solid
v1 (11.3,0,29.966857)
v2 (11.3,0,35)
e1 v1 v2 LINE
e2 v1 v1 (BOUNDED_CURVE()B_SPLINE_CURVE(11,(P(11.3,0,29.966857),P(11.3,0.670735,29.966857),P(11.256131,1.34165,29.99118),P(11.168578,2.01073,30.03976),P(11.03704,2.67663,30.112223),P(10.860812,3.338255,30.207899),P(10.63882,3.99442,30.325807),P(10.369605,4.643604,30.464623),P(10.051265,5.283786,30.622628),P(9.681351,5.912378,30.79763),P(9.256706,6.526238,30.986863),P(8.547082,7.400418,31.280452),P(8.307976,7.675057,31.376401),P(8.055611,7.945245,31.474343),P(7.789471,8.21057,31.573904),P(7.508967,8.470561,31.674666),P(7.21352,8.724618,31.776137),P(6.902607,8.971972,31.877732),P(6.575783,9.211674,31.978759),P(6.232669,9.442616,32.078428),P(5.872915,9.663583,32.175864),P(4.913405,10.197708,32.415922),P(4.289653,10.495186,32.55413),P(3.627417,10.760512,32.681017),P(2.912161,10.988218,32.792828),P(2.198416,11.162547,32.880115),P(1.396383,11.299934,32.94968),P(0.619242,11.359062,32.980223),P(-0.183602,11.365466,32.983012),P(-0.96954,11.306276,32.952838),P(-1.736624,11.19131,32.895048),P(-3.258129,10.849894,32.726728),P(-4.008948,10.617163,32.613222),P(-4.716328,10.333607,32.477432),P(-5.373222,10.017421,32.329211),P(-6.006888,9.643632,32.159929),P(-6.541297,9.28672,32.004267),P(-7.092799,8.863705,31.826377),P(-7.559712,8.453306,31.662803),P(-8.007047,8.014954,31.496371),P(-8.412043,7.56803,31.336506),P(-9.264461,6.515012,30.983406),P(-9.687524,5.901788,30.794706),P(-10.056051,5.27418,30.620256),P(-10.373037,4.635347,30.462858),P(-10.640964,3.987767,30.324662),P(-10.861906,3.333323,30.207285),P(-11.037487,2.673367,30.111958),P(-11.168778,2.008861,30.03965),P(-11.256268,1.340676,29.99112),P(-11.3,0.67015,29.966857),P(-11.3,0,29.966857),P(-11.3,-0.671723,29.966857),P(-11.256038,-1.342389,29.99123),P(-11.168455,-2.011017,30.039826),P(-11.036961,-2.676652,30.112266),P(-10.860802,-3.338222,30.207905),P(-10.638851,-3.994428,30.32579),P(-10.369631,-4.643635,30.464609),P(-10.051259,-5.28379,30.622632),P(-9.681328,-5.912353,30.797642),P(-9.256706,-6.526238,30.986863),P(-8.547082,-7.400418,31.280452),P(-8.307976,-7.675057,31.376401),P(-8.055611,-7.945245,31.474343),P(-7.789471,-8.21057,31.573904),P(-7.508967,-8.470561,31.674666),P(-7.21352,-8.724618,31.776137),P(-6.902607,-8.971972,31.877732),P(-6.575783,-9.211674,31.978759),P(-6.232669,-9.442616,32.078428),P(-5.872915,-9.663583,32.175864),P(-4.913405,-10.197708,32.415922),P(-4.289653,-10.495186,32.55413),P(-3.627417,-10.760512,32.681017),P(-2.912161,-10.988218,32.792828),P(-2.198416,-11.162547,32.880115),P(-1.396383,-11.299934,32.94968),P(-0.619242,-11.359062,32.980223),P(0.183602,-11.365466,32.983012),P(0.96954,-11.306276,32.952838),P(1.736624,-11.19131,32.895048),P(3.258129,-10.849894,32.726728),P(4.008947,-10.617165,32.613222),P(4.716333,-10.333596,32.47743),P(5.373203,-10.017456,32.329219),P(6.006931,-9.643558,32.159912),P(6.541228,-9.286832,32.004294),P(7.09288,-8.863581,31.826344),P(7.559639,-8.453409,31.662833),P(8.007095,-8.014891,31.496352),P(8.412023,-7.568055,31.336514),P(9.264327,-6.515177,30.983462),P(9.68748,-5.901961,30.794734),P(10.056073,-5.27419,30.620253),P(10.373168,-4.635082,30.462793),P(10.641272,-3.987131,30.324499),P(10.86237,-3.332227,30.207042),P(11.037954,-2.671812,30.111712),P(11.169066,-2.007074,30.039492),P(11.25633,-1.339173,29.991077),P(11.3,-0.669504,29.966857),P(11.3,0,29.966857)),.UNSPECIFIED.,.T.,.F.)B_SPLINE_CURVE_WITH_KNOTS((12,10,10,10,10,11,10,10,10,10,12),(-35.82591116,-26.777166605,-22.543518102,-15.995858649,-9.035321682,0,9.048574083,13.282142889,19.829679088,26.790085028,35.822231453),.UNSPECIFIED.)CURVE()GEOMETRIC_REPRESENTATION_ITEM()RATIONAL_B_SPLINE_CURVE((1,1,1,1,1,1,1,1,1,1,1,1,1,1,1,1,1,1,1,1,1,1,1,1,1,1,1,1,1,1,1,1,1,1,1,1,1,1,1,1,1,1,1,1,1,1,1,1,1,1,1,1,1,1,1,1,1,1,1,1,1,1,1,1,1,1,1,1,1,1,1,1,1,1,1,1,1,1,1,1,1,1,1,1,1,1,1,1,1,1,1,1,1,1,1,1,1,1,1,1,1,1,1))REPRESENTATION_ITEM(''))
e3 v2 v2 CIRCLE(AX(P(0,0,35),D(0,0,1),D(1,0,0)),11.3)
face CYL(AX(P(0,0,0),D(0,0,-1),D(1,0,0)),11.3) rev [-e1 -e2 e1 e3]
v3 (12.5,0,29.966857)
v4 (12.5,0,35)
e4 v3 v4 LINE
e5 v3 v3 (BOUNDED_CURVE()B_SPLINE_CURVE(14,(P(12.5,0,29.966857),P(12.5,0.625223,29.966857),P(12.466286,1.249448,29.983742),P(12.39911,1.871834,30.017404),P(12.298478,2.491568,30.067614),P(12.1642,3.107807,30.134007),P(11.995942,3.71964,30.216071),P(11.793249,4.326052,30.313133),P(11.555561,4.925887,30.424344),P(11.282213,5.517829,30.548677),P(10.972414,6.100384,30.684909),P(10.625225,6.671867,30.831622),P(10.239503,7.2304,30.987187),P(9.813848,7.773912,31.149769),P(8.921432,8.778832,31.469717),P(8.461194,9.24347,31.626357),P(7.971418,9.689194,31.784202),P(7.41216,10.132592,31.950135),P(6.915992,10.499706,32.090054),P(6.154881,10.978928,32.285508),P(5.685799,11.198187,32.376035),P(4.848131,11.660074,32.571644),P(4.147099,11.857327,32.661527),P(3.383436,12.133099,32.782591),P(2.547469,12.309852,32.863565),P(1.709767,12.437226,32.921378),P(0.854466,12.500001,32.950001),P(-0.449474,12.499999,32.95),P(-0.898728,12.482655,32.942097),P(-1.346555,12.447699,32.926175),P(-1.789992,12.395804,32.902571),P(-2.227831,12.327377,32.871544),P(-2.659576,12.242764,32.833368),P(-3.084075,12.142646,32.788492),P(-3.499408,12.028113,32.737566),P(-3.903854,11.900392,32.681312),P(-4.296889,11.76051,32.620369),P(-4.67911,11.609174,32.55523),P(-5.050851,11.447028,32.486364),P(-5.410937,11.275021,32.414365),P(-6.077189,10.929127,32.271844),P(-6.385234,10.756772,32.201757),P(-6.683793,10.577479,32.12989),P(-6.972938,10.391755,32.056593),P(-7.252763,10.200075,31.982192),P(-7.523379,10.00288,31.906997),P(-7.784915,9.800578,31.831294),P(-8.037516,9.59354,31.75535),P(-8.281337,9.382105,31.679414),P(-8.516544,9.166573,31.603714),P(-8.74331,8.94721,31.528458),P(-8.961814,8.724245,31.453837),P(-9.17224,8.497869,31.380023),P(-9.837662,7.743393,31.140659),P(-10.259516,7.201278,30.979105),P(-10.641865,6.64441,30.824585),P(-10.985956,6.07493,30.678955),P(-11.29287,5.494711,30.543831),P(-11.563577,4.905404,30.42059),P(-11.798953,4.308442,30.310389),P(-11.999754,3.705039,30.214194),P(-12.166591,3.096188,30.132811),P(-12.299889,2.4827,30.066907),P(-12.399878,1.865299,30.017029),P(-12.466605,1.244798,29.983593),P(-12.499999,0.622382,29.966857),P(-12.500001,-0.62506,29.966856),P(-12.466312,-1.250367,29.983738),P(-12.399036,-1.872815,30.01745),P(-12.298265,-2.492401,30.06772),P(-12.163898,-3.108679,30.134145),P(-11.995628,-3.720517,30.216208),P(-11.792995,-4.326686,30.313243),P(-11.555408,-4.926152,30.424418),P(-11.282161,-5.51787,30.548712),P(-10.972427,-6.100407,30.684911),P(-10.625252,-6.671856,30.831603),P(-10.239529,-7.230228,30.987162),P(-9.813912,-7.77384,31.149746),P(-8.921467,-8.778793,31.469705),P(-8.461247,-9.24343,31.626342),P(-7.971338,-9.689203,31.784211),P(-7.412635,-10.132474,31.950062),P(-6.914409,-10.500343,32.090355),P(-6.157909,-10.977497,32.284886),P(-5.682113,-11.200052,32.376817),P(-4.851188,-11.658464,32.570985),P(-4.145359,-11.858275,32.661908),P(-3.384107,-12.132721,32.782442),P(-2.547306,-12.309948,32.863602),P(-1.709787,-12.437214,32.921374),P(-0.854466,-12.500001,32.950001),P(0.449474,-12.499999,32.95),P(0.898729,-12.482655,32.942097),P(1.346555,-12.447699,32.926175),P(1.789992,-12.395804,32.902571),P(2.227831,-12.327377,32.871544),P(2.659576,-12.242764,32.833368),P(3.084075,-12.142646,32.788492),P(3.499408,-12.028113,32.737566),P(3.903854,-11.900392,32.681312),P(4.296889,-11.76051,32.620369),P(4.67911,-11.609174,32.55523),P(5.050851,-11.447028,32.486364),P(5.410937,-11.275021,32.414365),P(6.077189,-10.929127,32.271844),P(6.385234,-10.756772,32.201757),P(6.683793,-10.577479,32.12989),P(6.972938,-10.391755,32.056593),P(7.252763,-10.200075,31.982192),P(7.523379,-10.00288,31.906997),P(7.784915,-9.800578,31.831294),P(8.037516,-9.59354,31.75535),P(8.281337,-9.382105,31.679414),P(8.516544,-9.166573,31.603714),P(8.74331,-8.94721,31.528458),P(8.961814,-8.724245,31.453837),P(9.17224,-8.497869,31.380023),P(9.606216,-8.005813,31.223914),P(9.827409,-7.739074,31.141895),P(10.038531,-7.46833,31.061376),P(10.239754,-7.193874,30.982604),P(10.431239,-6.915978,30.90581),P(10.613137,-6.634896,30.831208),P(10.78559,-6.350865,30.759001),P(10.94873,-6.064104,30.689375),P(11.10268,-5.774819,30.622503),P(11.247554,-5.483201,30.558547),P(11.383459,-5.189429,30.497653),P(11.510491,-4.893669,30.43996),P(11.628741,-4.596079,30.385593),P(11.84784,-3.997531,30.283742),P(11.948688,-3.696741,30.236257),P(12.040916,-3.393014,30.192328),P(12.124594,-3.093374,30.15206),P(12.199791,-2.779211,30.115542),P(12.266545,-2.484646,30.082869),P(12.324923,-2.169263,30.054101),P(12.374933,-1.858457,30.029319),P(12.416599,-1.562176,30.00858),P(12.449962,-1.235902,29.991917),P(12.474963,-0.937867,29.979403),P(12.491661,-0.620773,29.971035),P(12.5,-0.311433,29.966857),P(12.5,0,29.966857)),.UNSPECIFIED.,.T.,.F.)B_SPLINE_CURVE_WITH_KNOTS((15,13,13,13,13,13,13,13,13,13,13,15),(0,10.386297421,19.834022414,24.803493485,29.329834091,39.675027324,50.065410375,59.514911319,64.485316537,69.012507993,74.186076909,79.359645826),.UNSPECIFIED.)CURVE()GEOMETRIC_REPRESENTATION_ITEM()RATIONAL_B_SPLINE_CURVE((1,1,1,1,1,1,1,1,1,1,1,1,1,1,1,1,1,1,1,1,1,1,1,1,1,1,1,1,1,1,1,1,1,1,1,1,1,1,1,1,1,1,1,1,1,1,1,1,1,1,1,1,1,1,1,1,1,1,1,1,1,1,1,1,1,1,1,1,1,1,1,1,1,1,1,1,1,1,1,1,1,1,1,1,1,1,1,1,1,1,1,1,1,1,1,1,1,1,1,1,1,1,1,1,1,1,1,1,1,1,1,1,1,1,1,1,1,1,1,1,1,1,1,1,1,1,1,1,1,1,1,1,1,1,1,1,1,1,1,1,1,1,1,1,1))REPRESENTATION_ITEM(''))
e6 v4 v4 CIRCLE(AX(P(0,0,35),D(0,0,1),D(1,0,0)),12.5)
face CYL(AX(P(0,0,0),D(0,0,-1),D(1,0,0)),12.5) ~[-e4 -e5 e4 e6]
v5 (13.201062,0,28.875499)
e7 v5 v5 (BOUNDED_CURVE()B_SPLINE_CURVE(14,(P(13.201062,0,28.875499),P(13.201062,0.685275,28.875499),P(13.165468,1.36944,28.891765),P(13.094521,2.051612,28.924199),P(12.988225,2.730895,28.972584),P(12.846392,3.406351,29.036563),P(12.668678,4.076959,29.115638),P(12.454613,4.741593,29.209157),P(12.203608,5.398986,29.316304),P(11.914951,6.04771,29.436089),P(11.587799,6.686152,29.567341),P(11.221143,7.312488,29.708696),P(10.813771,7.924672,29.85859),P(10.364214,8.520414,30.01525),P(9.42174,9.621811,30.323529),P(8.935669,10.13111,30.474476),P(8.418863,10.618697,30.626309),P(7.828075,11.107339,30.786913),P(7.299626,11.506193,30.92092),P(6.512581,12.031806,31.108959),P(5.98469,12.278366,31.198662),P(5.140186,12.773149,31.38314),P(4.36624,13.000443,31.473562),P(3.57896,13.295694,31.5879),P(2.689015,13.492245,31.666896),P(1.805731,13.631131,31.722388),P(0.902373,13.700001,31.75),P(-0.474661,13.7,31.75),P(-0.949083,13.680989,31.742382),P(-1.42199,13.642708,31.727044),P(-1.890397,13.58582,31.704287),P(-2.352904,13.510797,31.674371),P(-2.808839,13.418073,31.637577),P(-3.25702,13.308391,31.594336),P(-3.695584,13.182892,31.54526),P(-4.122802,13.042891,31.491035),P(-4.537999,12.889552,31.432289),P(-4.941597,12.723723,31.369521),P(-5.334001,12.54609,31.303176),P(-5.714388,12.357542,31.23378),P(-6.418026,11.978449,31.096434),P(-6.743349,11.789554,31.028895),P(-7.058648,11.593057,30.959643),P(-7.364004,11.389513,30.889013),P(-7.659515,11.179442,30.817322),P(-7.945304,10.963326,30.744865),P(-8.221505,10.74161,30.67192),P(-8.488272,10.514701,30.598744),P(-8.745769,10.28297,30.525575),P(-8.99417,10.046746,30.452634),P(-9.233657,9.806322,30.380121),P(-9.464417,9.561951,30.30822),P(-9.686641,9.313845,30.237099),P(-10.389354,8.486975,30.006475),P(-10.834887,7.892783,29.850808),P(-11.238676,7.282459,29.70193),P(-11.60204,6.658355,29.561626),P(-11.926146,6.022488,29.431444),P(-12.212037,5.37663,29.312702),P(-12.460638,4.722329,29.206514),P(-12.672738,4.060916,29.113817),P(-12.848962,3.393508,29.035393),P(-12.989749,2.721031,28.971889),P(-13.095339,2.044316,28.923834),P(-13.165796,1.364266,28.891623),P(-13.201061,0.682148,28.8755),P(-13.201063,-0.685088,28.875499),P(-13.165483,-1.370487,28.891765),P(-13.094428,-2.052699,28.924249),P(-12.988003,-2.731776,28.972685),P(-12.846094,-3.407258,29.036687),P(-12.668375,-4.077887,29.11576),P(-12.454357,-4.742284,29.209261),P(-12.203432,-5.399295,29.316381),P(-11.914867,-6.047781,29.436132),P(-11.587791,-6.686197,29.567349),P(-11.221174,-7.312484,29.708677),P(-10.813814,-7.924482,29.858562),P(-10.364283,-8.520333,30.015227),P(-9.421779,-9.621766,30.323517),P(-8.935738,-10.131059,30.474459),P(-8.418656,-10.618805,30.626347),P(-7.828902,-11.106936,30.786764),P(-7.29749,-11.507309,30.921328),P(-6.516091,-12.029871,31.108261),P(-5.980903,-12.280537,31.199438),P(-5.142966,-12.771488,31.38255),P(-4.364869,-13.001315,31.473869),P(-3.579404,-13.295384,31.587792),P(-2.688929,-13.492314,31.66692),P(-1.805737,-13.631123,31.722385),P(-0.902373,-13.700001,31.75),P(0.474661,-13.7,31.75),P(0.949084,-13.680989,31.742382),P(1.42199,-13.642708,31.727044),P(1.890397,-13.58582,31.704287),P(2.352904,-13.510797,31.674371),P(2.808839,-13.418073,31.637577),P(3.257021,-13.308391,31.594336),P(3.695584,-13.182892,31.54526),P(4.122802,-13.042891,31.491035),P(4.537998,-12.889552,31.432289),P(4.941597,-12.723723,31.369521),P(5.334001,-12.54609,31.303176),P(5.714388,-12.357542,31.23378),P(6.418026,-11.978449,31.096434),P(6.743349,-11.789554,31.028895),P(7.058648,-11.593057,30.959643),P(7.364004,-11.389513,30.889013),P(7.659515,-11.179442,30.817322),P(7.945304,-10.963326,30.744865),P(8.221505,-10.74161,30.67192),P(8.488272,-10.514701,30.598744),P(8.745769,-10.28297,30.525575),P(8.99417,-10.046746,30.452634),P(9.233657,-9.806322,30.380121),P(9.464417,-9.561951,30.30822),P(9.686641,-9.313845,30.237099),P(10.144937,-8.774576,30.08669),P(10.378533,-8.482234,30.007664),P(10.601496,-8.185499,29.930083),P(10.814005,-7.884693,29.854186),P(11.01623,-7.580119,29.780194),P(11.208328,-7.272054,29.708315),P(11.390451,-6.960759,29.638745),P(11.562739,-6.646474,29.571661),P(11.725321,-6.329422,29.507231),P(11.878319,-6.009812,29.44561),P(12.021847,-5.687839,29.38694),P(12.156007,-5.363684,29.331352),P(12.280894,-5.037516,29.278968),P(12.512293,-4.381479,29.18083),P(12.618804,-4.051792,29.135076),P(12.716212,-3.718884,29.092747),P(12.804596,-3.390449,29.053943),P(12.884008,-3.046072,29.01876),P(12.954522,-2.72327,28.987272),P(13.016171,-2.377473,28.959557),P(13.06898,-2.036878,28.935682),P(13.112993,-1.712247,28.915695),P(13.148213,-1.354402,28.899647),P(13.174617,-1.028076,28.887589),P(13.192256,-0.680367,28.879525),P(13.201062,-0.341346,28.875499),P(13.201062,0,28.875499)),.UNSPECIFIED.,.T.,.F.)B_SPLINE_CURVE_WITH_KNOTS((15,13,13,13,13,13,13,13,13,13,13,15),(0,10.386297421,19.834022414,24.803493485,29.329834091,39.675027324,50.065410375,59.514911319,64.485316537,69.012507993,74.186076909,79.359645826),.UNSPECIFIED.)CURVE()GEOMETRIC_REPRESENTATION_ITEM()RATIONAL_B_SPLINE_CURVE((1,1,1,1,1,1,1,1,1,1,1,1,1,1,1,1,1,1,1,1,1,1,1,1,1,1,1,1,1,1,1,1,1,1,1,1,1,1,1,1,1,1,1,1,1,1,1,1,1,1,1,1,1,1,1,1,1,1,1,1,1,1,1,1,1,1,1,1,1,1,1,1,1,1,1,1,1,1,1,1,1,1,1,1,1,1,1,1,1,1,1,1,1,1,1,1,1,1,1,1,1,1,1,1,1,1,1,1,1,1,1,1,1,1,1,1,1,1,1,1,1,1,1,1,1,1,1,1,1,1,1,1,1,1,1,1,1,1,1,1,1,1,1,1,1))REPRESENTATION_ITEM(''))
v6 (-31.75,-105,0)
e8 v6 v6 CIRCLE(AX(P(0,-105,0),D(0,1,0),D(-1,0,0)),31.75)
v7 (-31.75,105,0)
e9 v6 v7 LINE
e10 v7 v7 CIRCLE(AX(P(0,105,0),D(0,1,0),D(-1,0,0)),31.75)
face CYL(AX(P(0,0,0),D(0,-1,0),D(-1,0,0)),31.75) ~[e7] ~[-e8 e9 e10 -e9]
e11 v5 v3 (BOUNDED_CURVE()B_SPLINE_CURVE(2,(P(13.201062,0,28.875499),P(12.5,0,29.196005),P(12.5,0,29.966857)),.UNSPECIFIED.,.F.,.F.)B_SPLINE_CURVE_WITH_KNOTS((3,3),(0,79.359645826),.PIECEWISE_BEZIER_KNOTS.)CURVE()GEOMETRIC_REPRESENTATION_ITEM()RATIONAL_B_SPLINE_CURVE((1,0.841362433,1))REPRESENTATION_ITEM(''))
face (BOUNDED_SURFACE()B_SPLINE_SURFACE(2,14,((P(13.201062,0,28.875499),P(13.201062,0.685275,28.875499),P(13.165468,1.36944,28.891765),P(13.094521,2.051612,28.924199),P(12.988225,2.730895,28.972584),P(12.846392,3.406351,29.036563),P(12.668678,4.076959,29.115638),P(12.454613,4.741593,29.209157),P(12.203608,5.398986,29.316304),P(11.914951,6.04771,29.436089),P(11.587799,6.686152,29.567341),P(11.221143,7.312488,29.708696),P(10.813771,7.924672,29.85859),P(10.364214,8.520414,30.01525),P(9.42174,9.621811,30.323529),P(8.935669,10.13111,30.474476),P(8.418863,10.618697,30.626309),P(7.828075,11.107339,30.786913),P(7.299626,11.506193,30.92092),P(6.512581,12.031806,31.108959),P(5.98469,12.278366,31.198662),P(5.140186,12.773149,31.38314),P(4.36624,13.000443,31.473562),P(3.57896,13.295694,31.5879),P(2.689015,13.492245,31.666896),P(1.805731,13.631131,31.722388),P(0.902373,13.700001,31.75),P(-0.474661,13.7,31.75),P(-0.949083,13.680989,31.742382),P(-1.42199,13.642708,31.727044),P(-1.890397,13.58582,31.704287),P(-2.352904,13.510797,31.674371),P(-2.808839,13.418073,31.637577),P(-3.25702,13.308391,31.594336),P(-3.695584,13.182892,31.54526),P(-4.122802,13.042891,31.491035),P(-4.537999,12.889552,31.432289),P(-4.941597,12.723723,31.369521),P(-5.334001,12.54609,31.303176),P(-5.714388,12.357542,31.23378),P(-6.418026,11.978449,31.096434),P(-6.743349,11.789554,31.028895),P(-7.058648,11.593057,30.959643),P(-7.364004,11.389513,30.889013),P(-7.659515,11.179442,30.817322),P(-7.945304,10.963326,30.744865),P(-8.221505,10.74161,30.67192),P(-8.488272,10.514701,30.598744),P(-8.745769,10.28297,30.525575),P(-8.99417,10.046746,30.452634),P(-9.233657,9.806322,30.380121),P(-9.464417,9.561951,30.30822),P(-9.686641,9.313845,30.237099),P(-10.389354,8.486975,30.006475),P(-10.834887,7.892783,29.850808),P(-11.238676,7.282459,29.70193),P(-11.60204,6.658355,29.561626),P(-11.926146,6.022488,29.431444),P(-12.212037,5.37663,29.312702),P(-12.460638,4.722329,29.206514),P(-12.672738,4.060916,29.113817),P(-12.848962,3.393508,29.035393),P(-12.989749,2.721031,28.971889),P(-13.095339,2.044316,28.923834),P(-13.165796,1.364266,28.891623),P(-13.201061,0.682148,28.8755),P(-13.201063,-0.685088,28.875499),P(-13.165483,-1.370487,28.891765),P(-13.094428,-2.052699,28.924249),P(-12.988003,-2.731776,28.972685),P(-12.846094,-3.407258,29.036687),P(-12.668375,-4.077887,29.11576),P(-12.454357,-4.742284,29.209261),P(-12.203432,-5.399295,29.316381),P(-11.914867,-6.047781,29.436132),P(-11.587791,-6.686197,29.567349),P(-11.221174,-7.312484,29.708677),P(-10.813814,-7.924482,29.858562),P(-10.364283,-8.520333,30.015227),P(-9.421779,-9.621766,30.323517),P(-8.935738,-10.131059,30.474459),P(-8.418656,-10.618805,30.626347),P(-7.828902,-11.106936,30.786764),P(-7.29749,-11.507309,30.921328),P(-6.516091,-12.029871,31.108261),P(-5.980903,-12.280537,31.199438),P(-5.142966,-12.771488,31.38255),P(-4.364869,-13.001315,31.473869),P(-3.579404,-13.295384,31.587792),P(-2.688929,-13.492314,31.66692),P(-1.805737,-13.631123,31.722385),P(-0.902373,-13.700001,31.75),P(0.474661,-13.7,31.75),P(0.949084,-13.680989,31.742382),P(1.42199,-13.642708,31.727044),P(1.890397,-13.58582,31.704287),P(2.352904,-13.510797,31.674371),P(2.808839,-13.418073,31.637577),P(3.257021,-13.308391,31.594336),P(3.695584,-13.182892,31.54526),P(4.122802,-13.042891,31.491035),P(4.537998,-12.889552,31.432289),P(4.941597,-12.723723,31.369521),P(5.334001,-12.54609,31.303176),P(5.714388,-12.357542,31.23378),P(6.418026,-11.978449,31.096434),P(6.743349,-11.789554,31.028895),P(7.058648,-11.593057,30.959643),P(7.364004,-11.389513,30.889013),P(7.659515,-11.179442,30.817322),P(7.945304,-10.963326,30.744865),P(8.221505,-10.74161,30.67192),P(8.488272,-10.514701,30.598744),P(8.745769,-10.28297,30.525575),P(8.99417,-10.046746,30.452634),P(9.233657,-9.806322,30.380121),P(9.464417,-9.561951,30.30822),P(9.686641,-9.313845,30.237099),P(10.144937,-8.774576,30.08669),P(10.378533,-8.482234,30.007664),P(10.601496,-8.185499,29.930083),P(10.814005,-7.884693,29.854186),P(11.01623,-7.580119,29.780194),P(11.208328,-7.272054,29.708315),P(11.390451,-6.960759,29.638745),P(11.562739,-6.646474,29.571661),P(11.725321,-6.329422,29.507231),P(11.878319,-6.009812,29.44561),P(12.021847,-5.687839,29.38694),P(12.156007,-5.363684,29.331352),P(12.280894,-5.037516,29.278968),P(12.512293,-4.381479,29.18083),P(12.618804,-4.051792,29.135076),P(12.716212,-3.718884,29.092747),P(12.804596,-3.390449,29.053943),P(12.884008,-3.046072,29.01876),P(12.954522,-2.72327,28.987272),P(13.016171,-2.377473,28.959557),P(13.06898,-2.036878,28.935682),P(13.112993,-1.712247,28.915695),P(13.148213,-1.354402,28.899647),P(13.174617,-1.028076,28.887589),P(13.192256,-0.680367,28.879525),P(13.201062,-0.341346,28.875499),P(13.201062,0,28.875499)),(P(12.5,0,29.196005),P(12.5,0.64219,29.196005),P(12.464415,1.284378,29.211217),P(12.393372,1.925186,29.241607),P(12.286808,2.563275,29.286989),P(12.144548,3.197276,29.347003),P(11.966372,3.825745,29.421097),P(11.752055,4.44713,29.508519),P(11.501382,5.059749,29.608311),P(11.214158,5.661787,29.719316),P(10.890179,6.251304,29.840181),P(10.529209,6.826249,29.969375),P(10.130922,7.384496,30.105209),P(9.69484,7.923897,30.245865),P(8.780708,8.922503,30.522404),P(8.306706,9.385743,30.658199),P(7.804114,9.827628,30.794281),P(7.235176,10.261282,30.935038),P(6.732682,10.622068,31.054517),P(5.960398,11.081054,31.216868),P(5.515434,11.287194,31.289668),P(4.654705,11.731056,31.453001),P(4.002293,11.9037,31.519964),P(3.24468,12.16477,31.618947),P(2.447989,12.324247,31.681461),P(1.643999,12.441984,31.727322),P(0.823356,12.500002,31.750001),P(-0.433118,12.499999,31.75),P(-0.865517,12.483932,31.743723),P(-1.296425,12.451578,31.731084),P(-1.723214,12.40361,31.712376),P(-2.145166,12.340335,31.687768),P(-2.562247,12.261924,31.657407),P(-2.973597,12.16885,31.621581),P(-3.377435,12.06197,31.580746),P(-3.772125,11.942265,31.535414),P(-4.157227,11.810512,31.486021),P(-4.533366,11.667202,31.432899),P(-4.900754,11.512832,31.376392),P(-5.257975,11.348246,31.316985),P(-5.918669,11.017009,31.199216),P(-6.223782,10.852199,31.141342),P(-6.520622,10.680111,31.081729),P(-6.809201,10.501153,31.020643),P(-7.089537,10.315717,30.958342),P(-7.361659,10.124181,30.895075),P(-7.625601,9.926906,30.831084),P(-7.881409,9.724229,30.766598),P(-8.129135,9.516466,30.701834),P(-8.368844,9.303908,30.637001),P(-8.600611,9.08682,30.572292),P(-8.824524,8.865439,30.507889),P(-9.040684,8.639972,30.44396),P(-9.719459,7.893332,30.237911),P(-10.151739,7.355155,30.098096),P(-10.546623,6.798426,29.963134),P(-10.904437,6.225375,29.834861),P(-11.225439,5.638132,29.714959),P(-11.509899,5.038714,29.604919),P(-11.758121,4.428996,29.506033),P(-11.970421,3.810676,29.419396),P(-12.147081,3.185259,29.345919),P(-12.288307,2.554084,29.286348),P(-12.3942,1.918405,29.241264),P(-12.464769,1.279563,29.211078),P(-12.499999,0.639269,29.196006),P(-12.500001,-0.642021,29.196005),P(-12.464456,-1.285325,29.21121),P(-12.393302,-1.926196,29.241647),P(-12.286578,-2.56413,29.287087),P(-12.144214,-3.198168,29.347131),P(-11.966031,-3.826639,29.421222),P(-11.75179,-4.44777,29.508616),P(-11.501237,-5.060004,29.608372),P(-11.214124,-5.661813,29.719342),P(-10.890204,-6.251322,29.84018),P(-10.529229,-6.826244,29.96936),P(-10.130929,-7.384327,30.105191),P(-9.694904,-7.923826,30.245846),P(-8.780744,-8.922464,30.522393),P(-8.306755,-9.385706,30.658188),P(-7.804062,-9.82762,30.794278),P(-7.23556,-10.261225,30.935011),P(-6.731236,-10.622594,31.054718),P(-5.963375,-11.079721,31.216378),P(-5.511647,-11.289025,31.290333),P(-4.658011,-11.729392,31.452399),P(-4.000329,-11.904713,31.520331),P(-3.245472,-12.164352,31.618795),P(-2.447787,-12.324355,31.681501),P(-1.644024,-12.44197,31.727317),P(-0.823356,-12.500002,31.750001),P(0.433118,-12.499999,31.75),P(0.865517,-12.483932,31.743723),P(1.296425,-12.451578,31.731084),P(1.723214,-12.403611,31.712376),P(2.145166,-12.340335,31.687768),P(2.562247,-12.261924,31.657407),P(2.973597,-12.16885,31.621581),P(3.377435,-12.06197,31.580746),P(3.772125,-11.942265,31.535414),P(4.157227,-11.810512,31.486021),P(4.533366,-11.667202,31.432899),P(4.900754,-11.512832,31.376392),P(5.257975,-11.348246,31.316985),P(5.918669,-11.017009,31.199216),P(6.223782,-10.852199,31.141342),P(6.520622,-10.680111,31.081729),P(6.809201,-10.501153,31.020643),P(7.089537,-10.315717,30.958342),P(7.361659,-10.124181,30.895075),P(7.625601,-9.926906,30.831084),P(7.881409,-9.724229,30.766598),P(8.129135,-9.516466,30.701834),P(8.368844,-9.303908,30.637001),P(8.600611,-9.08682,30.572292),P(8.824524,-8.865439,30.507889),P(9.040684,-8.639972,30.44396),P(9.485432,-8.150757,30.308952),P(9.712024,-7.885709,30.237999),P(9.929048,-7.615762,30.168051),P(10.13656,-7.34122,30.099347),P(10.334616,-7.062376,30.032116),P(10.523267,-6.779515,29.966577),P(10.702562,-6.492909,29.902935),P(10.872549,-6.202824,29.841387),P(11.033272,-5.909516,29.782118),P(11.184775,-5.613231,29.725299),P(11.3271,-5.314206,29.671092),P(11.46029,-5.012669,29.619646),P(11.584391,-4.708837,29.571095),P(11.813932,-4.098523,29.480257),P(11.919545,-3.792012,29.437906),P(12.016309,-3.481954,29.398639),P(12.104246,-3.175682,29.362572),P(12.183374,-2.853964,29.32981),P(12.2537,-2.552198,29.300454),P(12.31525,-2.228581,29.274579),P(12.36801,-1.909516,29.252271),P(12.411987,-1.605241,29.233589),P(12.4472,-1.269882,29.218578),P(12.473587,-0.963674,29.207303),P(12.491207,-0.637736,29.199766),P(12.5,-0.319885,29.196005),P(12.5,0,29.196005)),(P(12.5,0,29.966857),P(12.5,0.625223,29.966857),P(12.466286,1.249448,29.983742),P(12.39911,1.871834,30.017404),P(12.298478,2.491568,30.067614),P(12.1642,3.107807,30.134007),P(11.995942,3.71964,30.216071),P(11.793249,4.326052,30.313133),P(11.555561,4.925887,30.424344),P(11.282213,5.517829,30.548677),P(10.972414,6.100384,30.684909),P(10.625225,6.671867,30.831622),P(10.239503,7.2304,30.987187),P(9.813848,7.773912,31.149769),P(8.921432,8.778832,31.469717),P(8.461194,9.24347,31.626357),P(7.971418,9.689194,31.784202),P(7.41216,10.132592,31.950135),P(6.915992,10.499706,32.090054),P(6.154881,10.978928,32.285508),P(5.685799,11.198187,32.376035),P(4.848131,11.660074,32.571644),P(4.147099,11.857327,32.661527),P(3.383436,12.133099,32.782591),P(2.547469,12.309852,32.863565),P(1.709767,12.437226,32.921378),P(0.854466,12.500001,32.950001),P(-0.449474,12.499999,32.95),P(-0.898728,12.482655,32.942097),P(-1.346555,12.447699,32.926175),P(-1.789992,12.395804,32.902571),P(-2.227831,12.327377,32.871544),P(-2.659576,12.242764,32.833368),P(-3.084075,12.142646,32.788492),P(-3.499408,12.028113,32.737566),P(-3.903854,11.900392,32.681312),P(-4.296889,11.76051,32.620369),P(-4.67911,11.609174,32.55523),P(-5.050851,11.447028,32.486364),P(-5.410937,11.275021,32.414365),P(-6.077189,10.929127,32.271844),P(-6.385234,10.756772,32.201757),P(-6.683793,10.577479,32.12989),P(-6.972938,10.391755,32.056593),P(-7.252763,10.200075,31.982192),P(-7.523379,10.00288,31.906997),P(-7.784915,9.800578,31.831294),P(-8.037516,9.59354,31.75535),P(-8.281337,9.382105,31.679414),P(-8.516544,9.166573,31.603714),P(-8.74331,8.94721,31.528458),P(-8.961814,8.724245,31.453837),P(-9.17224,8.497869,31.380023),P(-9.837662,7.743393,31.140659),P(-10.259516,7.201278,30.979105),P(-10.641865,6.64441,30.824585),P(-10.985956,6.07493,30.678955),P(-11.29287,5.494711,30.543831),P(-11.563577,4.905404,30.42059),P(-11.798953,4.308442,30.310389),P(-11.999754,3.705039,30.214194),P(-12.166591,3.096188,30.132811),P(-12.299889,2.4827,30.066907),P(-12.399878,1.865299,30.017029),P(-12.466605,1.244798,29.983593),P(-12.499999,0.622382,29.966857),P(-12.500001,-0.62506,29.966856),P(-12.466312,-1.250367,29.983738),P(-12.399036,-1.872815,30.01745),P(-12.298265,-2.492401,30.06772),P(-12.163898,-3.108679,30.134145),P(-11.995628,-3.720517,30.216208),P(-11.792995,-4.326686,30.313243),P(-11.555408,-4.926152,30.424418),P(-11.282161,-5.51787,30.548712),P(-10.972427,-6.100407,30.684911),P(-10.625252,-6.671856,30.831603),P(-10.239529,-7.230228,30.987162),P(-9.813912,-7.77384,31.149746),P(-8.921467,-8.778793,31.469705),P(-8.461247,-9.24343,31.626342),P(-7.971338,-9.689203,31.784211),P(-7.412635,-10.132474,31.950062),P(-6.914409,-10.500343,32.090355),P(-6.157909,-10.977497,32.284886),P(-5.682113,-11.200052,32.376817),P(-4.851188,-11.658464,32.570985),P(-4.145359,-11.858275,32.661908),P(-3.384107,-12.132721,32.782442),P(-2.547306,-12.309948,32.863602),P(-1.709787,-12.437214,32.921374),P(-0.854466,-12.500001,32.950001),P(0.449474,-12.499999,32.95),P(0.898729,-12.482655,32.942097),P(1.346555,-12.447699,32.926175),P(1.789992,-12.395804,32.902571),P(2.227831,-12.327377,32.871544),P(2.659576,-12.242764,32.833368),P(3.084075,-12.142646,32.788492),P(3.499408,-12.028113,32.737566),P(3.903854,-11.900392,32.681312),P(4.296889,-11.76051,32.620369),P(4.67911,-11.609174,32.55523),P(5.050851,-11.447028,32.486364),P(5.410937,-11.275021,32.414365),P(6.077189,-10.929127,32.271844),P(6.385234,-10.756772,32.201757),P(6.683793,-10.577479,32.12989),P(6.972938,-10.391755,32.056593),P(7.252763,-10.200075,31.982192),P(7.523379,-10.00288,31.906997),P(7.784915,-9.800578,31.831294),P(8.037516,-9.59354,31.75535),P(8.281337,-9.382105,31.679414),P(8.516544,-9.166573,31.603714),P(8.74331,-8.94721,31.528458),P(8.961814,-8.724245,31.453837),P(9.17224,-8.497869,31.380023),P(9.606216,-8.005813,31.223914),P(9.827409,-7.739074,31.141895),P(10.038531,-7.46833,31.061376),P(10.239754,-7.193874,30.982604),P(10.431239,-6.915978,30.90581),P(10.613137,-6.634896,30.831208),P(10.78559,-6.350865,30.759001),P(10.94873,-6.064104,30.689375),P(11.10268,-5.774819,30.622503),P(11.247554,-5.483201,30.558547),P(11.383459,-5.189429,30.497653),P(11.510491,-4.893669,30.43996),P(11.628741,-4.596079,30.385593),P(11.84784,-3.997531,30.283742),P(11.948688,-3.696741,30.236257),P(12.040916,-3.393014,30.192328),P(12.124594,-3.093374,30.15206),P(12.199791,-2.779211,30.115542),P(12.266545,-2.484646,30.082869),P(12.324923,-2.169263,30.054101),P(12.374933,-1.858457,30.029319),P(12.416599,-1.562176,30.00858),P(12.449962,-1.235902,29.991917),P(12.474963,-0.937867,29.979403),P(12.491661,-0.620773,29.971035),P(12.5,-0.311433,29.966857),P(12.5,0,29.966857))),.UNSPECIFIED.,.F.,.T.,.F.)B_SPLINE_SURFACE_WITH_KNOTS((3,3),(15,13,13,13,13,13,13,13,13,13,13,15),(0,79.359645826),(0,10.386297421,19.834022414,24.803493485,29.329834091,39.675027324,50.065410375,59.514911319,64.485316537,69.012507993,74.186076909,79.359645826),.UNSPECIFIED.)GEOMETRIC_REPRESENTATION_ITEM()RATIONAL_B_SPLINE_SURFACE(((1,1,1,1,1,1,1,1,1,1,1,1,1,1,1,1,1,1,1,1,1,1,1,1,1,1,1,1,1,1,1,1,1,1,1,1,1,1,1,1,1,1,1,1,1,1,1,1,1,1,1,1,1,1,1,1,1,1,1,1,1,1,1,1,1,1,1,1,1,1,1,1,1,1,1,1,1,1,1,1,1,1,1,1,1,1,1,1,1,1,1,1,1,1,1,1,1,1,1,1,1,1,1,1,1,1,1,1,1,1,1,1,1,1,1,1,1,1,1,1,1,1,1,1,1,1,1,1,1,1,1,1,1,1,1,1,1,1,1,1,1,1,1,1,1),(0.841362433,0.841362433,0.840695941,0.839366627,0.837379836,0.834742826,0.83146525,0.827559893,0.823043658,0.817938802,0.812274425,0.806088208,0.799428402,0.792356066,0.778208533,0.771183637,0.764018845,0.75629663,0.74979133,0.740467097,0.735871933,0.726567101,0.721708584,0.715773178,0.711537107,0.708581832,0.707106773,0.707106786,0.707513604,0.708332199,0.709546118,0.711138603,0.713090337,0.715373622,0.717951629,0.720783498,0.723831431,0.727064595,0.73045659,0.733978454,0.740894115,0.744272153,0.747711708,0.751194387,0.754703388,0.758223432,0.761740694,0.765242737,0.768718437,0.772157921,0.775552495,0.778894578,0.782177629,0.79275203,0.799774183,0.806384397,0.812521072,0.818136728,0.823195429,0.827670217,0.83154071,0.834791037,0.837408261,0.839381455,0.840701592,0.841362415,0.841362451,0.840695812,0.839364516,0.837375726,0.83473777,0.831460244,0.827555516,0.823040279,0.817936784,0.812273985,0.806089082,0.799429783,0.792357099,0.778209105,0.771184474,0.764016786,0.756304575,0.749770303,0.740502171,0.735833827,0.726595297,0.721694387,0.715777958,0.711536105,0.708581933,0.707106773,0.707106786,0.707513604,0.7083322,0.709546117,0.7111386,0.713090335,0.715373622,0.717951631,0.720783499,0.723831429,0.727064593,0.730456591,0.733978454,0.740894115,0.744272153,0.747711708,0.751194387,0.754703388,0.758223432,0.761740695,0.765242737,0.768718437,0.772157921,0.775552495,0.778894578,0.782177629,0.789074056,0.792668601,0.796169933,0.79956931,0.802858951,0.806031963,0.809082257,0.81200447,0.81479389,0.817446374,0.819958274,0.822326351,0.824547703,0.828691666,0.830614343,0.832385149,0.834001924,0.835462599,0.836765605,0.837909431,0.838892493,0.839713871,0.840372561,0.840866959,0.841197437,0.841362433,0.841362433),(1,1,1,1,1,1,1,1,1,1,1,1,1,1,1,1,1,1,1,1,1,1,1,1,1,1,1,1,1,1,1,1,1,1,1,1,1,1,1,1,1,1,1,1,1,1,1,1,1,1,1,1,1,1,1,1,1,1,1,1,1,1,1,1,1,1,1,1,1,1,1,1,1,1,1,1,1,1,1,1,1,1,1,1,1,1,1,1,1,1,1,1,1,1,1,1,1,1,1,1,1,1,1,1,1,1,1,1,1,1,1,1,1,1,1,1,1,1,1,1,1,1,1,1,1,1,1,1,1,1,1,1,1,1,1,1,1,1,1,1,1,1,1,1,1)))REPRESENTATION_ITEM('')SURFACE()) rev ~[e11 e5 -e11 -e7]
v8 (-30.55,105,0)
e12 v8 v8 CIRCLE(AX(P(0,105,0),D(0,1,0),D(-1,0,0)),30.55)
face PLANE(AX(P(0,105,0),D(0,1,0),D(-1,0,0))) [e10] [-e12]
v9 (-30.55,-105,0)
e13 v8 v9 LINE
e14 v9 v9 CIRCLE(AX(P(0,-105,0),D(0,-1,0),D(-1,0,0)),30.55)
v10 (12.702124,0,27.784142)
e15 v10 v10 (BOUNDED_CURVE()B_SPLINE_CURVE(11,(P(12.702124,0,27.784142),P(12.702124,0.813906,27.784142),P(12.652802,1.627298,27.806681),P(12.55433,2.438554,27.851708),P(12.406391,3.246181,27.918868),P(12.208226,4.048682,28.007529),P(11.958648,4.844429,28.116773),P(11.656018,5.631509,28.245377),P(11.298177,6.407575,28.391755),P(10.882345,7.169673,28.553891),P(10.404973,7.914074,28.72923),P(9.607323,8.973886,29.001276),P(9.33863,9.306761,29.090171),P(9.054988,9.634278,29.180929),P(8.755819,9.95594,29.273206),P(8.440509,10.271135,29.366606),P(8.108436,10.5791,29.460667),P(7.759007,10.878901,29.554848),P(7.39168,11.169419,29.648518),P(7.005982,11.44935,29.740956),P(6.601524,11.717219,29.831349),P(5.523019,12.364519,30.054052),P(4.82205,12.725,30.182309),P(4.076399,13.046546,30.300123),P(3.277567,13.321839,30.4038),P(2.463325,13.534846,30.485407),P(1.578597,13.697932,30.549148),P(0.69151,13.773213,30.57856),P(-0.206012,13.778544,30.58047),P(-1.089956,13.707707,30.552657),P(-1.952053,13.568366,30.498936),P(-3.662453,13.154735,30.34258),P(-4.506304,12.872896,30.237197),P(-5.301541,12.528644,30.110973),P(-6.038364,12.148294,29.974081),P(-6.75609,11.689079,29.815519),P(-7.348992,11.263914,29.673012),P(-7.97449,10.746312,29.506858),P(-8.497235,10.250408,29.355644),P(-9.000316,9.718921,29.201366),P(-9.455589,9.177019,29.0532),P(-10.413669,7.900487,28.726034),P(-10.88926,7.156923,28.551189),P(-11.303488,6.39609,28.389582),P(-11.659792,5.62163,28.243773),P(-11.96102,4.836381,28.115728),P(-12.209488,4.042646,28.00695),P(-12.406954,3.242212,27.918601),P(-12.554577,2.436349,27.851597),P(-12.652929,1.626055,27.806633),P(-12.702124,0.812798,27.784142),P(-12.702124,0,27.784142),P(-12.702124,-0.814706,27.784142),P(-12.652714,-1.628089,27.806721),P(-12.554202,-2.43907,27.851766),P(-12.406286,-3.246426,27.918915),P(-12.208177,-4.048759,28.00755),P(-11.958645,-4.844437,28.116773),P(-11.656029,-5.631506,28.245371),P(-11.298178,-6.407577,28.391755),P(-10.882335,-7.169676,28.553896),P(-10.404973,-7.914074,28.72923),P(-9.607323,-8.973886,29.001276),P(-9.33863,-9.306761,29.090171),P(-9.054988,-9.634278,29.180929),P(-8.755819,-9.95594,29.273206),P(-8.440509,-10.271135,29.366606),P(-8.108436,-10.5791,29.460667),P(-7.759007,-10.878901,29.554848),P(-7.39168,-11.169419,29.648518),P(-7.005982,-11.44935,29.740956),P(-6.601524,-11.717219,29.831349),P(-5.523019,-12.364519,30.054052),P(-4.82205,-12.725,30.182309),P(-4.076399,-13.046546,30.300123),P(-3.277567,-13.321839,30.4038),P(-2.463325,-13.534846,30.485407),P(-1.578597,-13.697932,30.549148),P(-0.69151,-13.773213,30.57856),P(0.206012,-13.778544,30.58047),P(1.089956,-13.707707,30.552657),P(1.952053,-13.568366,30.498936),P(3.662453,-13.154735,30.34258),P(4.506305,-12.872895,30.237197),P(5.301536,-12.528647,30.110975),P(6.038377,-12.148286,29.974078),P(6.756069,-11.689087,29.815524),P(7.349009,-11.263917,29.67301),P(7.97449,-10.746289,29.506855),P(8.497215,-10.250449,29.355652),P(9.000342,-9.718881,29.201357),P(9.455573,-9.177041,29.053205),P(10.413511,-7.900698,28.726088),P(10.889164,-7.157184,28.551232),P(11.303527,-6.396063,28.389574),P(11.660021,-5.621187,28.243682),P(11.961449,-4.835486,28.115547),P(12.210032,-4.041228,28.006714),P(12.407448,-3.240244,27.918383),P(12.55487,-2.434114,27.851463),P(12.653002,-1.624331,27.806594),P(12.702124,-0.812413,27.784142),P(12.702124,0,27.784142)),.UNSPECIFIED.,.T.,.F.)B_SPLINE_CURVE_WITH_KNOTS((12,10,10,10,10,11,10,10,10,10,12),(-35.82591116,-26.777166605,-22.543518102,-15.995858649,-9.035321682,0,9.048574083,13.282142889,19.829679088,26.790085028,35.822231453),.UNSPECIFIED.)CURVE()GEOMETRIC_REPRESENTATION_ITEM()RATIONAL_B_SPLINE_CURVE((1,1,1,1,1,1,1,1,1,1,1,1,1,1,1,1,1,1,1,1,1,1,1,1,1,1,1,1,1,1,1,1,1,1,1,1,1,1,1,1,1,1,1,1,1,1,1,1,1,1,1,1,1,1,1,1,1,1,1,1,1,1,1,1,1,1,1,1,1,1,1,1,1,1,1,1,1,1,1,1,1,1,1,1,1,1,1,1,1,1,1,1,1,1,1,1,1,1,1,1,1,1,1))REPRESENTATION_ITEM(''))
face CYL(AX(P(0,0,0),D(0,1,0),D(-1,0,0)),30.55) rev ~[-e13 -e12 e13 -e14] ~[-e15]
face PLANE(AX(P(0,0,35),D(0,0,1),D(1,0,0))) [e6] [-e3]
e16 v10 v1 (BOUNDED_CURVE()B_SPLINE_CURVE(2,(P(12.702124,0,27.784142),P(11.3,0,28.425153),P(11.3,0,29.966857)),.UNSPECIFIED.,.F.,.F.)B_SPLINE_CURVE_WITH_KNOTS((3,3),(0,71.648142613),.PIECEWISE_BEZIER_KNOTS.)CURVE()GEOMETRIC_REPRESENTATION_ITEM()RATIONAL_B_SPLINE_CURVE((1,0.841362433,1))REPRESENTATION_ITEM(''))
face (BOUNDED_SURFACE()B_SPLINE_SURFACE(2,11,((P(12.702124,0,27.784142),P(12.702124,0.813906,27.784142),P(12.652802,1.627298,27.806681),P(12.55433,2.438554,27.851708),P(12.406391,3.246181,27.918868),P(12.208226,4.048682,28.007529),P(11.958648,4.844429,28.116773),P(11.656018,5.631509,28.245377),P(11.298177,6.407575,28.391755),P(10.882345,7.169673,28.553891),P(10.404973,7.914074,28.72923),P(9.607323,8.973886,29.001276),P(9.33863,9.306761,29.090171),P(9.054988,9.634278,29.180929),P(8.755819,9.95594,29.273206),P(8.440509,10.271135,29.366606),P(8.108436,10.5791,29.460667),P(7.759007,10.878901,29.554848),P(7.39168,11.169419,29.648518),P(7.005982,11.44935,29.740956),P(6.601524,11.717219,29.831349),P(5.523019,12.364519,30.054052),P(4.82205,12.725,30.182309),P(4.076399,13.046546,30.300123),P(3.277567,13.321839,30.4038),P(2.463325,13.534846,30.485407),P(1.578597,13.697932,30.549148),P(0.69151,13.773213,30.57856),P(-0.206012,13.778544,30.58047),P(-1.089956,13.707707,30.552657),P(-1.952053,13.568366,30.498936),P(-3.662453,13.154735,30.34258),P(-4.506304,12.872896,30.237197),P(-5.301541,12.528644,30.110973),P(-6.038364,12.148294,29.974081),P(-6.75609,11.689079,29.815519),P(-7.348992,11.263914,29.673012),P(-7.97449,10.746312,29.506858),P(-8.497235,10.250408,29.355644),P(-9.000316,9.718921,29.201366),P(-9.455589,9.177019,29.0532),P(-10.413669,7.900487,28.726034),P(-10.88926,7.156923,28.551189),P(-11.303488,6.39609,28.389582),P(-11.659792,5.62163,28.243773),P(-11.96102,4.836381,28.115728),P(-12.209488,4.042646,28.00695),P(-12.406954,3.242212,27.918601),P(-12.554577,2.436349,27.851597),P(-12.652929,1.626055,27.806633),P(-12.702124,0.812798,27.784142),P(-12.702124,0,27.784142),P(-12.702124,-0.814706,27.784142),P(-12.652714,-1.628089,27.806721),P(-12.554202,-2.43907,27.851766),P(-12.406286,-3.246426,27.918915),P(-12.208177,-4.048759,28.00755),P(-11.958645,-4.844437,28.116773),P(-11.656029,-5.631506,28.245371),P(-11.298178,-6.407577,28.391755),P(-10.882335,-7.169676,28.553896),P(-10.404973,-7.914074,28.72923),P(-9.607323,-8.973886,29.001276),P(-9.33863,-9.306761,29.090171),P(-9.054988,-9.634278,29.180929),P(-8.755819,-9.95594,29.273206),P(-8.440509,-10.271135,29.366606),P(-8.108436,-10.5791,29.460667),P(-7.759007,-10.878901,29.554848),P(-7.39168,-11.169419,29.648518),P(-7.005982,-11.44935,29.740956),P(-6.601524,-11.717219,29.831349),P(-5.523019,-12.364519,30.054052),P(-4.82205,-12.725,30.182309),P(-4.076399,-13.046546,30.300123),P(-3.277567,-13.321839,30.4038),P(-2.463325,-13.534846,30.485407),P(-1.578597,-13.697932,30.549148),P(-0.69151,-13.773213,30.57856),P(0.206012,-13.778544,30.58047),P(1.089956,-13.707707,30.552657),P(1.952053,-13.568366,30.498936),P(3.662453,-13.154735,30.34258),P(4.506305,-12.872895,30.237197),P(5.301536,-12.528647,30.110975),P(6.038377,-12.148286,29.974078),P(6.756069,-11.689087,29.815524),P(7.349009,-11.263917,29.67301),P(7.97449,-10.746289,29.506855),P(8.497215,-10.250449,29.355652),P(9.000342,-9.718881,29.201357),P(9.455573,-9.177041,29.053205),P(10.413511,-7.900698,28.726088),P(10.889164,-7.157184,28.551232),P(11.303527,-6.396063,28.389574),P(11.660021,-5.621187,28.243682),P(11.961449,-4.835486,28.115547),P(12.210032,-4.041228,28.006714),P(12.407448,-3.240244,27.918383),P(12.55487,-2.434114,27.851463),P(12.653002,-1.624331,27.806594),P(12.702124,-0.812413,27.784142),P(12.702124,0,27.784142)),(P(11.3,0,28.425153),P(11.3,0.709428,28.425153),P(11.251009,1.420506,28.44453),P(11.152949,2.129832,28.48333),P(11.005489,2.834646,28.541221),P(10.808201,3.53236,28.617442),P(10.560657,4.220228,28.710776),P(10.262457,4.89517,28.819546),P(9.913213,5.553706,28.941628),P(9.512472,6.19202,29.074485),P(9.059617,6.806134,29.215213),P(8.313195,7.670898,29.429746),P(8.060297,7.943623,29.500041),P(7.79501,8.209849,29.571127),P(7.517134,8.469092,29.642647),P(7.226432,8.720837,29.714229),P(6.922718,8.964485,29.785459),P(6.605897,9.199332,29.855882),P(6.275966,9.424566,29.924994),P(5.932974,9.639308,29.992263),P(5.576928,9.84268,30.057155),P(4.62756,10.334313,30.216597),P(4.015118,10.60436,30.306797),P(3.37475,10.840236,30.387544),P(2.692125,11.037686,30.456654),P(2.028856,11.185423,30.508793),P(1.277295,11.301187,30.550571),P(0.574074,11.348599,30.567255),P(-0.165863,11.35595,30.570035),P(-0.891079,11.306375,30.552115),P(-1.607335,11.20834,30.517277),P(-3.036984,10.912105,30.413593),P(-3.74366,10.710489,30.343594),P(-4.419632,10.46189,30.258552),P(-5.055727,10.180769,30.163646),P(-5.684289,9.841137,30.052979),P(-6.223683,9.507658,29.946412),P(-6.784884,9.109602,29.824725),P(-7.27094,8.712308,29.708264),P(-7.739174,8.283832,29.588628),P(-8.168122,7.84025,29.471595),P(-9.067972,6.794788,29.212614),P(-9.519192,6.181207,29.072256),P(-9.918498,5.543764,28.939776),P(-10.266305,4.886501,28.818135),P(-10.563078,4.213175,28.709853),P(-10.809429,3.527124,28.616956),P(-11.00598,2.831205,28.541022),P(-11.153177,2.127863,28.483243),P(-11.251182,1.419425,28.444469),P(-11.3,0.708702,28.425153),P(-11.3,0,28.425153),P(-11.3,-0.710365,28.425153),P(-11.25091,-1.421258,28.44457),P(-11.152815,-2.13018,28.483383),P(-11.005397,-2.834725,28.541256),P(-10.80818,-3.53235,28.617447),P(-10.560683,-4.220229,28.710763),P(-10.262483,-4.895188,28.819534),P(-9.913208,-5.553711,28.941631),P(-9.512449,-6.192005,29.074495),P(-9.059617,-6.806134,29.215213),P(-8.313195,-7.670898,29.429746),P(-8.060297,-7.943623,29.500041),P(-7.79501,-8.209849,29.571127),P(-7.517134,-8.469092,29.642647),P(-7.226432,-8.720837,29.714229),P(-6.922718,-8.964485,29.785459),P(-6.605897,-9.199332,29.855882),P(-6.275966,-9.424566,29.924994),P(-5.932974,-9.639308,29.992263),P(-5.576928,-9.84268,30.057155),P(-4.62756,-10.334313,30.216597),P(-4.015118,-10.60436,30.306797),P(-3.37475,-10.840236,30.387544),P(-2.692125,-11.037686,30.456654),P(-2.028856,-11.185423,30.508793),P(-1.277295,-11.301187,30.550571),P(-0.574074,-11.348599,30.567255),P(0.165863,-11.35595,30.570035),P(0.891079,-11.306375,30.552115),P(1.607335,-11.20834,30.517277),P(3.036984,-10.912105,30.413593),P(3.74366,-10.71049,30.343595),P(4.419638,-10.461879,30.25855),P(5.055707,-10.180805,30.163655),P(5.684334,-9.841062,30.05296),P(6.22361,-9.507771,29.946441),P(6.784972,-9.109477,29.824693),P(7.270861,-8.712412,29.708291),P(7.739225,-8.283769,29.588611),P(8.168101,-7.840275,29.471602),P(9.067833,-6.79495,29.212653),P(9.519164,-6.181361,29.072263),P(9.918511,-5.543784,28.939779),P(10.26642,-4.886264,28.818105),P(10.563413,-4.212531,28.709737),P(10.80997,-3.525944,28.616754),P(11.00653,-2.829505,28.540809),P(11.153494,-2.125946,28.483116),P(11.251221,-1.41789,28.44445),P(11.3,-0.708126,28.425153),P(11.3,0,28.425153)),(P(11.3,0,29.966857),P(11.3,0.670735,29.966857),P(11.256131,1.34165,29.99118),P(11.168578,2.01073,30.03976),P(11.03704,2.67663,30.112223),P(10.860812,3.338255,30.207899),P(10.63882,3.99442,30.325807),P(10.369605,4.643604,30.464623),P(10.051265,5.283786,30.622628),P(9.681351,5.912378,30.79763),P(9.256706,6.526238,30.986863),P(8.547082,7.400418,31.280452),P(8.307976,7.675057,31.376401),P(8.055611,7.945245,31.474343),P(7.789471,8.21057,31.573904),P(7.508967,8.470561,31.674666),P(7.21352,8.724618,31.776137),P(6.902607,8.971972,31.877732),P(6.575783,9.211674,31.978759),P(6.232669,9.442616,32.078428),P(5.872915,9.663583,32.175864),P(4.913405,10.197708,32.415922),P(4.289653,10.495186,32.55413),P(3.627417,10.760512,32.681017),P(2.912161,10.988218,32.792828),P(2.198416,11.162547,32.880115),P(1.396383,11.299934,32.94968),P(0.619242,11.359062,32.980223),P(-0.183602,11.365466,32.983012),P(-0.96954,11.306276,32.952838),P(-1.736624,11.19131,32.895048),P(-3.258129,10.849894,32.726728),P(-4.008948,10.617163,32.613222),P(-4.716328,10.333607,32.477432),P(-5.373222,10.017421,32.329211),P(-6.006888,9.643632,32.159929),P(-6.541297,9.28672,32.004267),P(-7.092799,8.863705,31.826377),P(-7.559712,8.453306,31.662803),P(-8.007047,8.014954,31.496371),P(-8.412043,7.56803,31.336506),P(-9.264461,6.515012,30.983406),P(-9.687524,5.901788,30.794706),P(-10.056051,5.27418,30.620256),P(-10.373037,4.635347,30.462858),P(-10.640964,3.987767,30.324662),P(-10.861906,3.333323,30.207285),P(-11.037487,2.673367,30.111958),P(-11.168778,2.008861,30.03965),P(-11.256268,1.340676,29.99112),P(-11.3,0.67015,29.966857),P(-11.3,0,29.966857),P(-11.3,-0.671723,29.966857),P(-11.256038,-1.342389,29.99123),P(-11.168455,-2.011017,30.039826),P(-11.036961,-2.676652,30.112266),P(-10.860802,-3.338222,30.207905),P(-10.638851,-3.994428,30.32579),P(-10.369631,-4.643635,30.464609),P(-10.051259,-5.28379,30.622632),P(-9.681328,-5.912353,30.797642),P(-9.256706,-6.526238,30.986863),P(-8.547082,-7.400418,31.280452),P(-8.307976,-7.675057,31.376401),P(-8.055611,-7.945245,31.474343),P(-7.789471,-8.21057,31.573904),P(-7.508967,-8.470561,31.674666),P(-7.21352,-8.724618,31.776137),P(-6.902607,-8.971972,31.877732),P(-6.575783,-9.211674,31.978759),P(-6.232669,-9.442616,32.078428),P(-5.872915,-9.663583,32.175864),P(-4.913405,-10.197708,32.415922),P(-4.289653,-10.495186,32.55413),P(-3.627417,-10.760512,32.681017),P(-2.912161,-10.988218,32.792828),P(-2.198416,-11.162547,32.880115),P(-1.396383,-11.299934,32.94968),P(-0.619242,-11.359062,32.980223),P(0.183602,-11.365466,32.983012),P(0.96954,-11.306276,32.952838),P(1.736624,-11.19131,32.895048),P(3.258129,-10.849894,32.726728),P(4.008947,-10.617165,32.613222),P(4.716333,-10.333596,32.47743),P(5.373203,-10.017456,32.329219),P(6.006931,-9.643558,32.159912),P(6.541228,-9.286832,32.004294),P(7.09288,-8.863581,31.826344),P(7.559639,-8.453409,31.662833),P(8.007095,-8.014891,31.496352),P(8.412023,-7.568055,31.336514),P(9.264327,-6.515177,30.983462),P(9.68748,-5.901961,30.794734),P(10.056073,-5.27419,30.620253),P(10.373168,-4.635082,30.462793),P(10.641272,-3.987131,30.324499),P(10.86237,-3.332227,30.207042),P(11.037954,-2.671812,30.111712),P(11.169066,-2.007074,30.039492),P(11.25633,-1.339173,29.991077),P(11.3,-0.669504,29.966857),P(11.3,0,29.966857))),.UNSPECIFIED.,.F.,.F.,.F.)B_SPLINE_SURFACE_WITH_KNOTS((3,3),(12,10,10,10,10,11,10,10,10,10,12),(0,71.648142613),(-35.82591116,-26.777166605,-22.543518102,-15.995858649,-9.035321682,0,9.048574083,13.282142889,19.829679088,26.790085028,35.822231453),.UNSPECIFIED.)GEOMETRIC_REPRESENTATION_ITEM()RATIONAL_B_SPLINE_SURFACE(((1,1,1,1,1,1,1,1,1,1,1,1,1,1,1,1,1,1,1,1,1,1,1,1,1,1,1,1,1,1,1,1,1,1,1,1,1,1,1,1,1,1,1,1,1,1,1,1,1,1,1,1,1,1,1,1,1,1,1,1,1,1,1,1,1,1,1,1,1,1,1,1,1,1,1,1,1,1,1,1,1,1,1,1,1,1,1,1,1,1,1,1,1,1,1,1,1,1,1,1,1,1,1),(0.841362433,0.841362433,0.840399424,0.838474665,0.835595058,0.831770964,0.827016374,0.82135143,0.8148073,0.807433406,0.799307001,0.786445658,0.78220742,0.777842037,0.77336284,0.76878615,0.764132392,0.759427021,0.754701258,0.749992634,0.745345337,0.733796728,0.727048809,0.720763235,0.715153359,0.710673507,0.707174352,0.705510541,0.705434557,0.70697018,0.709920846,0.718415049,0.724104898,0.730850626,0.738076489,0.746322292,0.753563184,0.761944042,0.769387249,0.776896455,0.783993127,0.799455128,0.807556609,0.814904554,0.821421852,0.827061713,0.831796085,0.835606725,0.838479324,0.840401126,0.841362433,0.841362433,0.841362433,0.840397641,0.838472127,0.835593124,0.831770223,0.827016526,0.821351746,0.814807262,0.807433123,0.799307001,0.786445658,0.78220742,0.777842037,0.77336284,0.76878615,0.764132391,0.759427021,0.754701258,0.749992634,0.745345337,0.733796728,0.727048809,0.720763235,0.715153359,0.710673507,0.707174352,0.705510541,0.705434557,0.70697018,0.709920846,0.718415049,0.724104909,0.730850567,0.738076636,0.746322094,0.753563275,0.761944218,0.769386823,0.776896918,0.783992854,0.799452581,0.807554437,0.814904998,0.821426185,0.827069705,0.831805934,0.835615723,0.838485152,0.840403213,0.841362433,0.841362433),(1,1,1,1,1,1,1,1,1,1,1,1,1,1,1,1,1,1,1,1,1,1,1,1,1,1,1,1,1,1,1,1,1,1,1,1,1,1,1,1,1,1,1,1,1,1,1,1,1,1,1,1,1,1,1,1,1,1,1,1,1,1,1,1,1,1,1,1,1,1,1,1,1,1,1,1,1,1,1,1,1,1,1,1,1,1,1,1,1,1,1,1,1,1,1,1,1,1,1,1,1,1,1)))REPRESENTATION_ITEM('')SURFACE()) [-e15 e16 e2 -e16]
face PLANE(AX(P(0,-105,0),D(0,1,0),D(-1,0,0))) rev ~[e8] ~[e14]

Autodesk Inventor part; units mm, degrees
ref_plane "YZ Plane" through (0, 0, 0) normal (1, 0, 0) x (0, 1, 0)
ref_plane "XZ Plane" through (0, 0, 0) normal (0, 1, 0) x (-1, 0, 0)
ref_plane "XY Plane" through (0, 0, 0) normal (0, 0, 1) x (1, 0, 0)
sketch "Szkic8" plane through (0, 0, 0) normal (0, 1, 0) x (-1, 0, 0)
  circle A0 centre (0, 0) radius 31.75
  circle A1 centre (0, 0) radius 30.55
  dimension "d53" = 63.5
  dimension "d54" = 1.2
extrude "Wyciągnięcie proste2" add sketch "Szkic8" along normal mid plane 210
sketch "Szkic13" plane through (0, 0, 0) normal (0, 0, 1) x (1, 0, 0)
  circle A0 centre (0, 0) radius 12.5
  circle A1 centre (0, 0) radius 11.3
  dimension "d67" = 25
  dimension "d68" = 1.2
extrude "Wyciągnięcie proste6" add sketch "Szkic13" along normal blind 35
sketch "Szkic14" plane through (0, 0, 35) normal (0, 0, 1) x (1, 0, 0)
  circle A0 centre (0, 0) radius 11.3 projected
extrude "Wyciągnięcie proste7" cut sketch "Szkic14" against normal blind 35
sketch "Szkic15" plane through (0, -105, 0) normal (0, -1, 0) x (1, 0, 0)
  circle A0 centre (0, 0) radius 30.55 projected
extrude "Wyciągnięcie proste8" cut sketch "Szkic15" against normal blind 210
fillet "Zaokrąglenie3" radius 1.2 2 edges at (-0.0043, 12.5, 31.75) (0.003, -12.5, 31.75)
fillet "Zaokrąglenie4" radius 2.4 2 edges at (-0.002, -11.3, 30.55) (-0.0004, 11.3, 30.55)
equation "\"d53\" = OD"
equation "\"d54\" = THK"
equation "\"d55\" = L1"
equation "\"d67\" = OD2"
equation "\"d68\" = THK"
equation "\"d69\" = L2"
equation "\"d71\" = L2"
equation "\"d73\" = L1"
equation "\"d75\" = THK"
equation "\"d76\" = 2 * THK"
equation "\"SzerokośćGięciaPodcięcia\" = Grubość"
equation "\"RozmiarPodcięciaNarożnika\" = 4 * Grubość"
equation "\"PromieńPrzejścia\" = PromieńGięcia"
equation "\"Rozmiar_promienia_Jacobiego\" = PromieńGięcia"
equation "\"Wielk_odstępu\" = Grubość"
equation "\"d2\" = PromieńGięcia"
equation "\"d23\" = PromieńGięcia"
equation "\"OD\" = 63.5"
equation "\"THK\" = 1.2"
equation "\"L1\" = 210"
equation "\"L2\" = 35"
equation "\"OD2\" = 25"
equation "\"Grubość\" = 1.5"
equation "\"PromieńGięcia\" = 3"
properties part number "Trójnik red. krótki  Ø63,5 25 63,5 s=1,2 L=210" material "304"
